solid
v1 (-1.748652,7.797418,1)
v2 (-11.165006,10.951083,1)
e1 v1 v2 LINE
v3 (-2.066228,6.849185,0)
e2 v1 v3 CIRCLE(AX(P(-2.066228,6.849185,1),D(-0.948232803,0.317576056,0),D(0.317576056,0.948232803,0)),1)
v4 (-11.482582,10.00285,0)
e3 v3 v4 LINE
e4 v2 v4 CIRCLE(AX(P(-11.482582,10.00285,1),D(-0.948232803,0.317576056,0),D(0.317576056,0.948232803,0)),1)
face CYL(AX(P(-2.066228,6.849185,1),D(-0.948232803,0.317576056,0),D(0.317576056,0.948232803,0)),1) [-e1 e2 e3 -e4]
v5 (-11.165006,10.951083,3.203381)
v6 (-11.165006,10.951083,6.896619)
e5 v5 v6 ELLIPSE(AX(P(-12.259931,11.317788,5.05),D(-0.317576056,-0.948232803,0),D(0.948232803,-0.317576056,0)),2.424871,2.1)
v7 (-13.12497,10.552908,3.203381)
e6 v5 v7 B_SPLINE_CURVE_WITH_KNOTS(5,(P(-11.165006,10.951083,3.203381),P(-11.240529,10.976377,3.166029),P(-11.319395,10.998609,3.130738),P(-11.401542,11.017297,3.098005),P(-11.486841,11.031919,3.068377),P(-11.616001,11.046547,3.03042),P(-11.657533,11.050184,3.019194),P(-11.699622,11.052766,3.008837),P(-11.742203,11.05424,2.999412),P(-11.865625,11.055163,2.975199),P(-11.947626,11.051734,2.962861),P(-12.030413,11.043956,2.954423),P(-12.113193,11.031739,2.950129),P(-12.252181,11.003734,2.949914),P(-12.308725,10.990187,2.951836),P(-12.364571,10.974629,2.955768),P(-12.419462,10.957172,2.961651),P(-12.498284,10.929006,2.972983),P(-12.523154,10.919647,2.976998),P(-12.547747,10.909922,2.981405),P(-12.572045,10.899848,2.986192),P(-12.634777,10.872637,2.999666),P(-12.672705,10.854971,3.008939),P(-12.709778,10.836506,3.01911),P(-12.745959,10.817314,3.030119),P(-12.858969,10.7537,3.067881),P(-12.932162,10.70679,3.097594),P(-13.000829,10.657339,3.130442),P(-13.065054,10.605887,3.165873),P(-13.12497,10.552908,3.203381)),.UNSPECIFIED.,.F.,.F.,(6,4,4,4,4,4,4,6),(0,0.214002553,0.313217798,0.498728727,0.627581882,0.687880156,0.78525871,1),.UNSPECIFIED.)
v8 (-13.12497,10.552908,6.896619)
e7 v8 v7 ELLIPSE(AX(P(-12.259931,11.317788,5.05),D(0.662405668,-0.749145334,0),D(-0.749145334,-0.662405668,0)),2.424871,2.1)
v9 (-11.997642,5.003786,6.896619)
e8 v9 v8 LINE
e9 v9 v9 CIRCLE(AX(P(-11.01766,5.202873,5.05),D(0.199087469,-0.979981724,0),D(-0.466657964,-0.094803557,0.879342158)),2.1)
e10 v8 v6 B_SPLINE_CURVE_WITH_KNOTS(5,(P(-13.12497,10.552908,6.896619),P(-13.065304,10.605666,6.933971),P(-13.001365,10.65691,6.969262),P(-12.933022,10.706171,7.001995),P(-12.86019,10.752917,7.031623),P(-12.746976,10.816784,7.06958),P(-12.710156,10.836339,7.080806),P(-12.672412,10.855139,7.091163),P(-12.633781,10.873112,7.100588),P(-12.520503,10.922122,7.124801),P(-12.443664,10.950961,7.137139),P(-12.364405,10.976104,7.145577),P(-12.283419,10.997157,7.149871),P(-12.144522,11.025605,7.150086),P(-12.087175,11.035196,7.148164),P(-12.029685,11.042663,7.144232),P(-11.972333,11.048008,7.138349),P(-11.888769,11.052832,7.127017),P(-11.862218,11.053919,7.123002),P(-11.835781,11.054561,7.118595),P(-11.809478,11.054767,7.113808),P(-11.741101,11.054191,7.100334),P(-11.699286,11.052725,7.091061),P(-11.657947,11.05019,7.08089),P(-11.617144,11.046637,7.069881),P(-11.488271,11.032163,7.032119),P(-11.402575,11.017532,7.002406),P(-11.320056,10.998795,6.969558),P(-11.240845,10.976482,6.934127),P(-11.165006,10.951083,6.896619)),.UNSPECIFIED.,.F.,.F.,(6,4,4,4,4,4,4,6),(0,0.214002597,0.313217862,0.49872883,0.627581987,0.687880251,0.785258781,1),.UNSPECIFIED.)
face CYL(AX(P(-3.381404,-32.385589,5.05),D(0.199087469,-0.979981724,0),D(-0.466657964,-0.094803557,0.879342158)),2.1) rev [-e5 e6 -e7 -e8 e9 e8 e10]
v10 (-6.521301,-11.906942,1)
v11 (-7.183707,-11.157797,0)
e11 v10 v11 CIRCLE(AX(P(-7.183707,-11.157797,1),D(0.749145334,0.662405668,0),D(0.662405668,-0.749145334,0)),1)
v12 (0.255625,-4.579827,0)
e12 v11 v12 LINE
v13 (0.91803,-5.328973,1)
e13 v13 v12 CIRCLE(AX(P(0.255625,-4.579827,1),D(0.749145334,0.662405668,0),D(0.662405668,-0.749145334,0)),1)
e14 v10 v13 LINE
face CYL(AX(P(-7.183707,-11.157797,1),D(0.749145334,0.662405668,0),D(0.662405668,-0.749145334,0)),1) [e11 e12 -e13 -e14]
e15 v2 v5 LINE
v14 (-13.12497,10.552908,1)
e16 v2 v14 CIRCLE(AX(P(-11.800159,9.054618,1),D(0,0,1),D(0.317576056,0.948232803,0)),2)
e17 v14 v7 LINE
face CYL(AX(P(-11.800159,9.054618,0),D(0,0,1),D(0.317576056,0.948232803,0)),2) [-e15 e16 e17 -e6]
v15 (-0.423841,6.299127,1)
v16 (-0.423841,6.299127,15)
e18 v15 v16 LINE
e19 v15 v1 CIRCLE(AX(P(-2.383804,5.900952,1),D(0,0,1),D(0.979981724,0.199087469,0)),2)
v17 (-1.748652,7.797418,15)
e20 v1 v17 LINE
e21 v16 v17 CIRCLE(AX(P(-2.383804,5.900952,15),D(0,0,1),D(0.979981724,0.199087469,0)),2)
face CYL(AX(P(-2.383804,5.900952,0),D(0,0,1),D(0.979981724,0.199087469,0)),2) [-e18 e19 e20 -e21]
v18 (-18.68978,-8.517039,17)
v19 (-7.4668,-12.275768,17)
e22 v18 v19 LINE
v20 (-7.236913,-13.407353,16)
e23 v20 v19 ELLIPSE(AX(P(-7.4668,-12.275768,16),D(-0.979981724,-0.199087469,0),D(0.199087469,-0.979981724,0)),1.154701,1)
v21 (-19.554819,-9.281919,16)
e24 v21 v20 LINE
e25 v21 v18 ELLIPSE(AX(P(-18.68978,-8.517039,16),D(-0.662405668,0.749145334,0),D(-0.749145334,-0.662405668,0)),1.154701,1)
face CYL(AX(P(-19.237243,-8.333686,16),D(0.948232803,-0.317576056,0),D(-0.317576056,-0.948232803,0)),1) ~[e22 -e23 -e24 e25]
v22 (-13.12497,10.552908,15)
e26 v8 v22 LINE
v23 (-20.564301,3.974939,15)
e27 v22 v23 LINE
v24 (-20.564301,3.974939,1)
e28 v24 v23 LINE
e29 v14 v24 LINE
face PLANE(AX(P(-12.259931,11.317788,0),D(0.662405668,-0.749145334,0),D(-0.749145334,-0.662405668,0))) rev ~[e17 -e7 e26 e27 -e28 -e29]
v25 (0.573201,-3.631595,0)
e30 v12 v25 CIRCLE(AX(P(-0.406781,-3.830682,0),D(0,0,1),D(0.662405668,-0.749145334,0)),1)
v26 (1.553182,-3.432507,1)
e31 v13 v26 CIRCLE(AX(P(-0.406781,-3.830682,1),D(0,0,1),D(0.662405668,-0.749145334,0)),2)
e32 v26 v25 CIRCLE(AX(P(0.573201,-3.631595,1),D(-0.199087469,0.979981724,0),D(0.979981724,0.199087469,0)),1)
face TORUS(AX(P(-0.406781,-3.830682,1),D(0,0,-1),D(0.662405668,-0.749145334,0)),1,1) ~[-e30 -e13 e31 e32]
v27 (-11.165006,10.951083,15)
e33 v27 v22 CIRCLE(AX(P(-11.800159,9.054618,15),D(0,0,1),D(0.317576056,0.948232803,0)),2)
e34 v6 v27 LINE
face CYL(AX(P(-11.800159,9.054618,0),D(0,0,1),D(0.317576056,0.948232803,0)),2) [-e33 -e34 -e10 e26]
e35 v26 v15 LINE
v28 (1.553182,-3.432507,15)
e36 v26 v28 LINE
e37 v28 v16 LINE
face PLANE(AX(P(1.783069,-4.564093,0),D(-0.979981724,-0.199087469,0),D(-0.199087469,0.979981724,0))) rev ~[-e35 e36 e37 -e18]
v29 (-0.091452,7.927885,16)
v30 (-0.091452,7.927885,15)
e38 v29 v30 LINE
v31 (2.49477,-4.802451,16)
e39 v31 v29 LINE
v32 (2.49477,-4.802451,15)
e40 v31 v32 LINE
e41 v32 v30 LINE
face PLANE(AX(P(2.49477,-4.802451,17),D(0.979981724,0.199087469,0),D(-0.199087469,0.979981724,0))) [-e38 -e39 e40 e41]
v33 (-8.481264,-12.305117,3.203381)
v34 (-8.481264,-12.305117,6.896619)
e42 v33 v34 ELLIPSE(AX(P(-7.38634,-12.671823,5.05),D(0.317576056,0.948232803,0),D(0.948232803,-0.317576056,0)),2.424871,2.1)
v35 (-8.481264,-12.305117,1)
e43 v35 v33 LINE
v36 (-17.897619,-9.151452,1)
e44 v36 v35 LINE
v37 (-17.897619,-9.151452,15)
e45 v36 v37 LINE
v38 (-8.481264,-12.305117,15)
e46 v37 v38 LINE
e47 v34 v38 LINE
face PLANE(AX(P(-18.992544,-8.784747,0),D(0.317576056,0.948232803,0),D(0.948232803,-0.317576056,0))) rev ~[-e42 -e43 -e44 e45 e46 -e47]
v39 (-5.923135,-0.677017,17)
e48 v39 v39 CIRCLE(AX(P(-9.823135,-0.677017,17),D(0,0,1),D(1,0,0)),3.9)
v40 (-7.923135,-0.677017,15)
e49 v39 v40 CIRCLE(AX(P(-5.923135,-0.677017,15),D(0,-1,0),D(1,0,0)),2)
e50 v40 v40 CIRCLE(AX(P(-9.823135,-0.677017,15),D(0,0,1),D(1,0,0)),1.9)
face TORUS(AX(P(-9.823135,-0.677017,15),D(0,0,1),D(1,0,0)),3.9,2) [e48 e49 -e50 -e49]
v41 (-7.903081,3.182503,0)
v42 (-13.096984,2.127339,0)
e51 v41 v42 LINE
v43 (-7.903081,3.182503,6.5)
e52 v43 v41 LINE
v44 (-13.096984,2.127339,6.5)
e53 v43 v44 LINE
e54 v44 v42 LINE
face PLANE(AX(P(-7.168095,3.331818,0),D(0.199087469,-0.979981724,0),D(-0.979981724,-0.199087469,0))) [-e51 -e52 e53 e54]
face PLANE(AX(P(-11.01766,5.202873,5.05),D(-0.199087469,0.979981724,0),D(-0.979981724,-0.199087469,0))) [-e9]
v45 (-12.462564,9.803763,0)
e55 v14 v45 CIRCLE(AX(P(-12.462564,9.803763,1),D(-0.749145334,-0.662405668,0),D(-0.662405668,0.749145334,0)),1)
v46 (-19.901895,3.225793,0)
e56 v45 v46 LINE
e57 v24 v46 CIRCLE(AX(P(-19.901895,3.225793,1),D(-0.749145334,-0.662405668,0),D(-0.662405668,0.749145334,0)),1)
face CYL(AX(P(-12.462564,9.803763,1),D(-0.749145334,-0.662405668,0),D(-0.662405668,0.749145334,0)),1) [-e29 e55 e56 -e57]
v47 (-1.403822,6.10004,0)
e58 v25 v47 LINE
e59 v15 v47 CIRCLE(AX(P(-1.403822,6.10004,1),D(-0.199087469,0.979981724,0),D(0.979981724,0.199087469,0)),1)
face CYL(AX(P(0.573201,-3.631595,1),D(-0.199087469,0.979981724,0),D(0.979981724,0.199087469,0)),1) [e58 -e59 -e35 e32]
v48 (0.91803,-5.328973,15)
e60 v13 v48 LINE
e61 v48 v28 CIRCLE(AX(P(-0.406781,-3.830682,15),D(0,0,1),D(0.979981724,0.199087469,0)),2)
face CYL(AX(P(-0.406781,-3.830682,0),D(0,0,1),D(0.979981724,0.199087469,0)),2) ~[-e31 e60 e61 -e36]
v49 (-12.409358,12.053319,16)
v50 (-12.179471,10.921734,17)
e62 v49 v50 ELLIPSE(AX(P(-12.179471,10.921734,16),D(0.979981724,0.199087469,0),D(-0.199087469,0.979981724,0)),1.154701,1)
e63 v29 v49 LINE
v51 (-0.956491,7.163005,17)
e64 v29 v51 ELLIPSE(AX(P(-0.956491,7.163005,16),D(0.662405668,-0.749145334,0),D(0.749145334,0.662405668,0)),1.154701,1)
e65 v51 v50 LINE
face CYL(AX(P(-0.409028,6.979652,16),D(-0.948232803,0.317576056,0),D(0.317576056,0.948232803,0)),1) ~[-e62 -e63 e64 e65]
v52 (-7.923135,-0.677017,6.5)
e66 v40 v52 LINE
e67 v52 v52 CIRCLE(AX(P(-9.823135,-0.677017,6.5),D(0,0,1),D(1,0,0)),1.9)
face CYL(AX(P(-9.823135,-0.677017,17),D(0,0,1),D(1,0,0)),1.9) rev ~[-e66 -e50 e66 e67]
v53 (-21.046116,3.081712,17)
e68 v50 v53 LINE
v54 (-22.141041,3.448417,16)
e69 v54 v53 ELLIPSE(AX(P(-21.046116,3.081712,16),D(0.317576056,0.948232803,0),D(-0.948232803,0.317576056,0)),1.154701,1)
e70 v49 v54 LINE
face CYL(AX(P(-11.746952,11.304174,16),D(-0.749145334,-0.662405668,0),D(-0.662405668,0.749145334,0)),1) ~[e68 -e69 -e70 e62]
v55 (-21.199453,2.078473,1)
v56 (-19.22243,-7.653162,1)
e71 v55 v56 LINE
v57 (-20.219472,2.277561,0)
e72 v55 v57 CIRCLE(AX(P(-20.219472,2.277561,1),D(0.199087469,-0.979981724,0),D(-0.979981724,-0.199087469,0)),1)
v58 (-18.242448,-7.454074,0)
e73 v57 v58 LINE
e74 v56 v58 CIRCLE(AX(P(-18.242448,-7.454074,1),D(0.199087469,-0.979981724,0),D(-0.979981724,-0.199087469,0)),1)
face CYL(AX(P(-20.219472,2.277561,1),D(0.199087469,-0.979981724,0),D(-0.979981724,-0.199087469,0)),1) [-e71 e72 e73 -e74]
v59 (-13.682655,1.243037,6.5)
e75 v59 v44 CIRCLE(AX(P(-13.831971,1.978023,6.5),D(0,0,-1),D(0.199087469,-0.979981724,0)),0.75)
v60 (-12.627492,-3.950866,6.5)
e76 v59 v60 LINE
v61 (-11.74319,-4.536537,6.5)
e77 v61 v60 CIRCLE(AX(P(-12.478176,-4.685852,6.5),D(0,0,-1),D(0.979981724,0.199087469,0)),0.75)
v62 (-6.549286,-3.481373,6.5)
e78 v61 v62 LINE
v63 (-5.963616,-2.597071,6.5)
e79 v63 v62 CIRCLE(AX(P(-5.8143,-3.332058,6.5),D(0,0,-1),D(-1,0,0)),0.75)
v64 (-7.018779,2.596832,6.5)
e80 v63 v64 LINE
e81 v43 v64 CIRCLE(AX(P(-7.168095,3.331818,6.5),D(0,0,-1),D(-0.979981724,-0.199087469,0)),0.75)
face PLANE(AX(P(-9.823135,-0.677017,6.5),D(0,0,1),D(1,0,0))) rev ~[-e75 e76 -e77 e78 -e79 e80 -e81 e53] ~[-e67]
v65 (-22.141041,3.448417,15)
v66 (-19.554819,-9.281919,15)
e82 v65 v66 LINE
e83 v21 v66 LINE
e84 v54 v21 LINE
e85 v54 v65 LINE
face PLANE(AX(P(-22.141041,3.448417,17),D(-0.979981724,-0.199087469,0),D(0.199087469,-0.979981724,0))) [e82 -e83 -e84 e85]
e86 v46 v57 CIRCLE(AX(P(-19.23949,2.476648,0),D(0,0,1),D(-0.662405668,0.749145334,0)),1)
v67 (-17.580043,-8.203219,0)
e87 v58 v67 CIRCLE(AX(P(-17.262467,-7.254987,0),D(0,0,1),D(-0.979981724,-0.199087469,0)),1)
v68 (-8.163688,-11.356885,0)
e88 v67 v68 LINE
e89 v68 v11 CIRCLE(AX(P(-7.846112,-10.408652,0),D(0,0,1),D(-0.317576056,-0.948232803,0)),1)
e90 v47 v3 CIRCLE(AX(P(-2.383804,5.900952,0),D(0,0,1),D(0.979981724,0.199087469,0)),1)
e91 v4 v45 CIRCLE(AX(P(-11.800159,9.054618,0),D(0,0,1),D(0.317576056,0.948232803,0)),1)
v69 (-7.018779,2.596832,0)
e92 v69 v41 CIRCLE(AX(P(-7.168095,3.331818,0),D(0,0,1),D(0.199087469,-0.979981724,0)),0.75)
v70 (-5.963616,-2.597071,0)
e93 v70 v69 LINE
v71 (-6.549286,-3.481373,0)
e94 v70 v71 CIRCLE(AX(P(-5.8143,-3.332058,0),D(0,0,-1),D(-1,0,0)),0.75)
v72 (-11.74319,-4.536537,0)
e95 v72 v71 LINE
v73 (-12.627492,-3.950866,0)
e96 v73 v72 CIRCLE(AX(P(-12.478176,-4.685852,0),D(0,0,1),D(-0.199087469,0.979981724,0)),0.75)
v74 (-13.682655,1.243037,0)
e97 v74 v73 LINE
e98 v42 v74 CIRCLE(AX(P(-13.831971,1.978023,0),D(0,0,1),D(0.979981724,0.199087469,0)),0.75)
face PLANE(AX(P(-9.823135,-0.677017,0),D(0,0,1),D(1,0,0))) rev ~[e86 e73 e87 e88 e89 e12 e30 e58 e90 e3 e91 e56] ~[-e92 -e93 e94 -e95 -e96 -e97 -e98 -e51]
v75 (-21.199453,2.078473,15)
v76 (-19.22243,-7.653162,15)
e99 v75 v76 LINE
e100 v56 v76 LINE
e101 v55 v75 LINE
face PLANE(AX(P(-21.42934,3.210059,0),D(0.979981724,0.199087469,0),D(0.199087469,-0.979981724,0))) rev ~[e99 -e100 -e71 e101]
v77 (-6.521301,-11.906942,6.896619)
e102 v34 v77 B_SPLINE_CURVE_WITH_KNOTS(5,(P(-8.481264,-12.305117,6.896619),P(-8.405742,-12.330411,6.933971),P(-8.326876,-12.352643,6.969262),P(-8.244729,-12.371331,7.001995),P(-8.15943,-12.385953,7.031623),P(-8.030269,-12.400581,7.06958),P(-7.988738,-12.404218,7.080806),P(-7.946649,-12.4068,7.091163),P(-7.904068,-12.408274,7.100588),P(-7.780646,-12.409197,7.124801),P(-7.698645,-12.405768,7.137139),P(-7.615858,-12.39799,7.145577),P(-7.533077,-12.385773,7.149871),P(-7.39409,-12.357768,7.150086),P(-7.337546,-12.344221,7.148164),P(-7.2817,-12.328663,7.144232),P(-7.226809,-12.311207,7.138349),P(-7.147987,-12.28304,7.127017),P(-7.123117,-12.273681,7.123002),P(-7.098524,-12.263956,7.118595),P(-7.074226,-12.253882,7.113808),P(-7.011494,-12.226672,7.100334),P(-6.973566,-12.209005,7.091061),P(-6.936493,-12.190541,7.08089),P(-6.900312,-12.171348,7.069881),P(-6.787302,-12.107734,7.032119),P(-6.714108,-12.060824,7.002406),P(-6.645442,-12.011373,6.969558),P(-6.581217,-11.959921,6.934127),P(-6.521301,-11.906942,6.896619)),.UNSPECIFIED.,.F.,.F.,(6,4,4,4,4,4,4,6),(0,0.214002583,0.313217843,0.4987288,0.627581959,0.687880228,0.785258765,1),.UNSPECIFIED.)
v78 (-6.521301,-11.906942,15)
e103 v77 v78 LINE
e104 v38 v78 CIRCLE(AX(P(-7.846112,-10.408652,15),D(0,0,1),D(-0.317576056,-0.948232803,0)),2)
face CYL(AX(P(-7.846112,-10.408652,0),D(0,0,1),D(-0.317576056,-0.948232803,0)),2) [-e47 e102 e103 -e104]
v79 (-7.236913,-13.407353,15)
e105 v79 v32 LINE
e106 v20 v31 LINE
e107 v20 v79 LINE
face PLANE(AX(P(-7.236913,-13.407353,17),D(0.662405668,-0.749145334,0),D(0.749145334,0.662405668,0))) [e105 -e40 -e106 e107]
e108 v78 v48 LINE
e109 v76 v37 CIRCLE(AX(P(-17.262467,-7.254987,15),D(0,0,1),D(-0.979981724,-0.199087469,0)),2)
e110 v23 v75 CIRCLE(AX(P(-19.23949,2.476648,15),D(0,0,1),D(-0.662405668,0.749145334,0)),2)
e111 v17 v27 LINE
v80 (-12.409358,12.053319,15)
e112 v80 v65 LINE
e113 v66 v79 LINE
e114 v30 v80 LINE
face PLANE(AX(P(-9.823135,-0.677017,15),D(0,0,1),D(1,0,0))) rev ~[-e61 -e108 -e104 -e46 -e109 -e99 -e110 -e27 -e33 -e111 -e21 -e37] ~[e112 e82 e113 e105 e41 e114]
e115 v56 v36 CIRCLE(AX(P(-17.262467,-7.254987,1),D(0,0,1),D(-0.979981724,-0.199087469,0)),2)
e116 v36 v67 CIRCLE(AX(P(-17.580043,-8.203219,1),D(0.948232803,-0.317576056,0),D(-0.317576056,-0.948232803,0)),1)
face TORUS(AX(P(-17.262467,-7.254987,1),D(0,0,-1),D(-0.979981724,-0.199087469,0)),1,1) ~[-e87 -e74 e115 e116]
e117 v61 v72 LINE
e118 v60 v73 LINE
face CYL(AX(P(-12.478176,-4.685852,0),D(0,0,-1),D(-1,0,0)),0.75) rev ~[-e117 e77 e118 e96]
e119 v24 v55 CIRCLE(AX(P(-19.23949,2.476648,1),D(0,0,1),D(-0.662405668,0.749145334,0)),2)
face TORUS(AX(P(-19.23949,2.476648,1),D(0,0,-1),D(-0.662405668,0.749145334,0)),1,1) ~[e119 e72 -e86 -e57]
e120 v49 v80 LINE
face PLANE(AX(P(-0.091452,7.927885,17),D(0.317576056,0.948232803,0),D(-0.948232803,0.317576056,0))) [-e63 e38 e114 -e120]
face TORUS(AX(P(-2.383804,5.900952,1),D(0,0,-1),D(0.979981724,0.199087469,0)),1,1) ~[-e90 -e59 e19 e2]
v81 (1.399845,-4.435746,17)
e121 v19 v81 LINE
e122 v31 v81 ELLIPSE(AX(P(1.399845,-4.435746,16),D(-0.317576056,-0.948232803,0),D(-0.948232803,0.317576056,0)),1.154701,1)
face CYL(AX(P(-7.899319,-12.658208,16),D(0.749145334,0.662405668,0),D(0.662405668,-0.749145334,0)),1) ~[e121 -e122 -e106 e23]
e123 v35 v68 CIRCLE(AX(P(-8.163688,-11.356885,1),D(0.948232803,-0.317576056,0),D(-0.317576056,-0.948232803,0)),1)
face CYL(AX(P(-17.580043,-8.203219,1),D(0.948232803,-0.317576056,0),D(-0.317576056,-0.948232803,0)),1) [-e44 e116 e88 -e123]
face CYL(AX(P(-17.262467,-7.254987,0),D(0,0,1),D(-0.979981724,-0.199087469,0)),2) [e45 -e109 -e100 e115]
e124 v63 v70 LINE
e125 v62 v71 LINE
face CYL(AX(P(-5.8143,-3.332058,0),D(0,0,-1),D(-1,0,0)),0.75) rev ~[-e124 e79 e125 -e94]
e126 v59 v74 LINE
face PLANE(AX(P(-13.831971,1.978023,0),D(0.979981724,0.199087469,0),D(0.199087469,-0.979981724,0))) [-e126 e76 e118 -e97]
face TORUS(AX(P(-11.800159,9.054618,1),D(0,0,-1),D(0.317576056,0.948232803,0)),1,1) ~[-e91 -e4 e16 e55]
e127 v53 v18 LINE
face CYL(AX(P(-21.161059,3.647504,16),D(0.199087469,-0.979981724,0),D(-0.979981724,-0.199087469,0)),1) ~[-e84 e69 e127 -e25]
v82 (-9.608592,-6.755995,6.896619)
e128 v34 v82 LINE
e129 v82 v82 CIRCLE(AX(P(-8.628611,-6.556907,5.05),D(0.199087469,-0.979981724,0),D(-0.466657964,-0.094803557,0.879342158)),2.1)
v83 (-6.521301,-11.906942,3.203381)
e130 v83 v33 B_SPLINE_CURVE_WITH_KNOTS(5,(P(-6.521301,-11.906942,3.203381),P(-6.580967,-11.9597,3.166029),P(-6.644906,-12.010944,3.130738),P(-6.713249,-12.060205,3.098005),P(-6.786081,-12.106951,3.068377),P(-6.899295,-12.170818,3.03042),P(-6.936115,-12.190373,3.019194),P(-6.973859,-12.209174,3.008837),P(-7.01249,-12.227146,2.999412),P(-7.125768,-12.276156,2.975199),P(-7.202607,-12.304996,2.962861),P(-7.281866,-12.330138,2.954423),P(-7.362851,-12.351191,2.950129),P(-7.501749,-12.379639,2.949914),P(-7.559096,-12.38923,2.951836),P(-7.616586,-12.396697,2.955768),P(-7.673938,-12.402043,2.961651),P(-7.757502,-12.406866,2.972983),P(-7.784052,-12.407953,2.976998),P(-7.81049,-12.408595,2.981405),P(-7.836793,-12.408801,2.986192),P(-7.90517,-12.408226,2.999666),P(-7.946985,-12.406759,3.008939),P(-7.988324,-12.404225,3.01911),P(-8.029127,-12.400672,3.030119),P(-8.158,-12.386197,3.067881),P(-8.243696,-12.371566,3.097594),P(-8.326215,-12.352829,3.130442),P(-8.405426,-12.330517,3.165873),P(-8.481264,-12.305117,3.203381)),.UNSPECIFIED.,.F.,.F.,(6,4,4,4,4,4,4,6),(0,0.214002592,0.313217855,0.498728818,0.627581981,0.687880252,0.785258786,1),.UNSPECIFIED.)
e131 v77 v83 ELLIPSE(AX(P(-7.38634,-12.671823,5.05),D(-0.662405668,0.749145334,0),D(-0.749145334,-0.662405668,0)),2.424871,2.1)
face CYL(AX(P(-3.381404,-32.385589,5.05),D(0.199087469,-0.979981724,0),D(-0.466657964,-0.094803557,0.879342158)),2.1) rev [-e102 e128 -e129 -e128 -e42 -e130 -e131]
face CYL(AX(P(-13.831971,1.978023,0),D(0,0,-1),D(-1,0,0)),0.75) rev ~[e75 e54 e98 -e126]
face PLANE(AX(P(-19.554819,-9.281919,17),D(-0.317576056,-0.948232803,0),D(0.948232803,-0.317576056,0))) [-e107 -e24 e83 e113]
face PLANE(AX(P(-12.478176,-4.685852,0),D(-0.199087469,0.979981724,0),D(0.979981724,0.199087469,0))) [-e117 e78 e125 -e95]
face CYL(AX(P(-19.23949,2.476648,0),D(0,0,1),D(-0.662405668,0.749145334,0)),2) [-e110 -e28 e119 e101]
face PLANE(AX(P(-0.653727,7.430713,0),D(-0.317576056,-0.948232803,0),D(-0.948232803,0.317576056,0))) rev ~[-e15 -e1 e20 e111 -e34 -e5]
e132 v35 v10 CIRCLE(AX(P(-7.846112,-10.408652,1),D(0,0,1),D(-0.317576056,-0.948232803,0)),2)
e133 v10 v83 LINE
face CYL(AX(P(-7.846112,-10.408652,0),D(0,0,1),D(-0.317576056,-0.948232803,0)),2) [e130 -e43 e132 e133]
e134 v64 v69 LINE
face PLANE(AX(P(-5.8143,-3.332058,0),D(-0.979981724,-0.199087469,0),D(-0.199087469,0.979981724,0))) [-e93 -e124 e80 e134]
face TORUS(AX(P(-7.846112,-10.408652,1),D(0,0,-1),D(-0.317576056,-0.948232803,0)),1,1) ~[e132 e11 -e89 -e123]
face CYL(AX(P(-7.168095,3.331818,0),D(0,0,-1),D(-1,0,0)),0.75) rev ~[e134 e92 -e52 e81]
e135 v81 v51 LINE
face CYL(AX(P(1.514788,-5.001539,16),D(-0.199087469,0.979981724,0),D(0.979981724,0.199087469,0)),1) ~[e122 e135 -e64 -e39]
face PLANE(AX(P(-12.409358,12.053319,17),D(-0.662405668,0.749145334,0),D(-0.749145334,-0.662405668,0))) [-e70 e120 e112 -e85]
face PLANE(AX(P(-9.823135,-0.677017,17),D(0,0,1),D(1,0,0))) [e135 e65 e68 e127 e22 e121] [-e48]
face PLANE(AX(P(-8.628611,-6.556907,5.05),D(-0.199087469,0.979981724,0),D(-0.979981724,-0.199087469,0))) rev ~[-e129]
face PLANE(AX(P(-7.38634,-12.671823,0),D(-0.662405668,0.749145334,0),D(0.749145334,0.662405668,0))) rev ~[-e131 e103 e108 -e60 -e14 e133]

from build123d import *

# Parameters (mm, degrees)
DODANIE_WYCI_GNI_CIE1_DEPTH      = 17
ZAOKR_GLENIE1_R                  = 2
DODANIE_WYCI_GNI_CIE2_DEPTH      = 2
ZAOKR_GLENIE2_R                  = 1
ZAOKR_GLENIE3_R                  = 1
WYTNIJ_WYCI_GNI_CIE1_DEPTH       = 32.35628887
WYTNIJ_WYCI_GNI_CIE1_DEPTH_BACK  = 32.35628887
SZKIC4_R                         = 2.1
DODANIE_WYCI_GNI_CIE3_DEPTH      = 6
DODANIE_WYCI_GNI_CIE3_DEPTH_BACK = 6
SZKIC9_R                         = 2.1
SZKIC8_R                         = 1.9
WYTNIJ_WYCI_GNI_CIE3_DEPTH       = 10.5
ZAOKR_GLENIE5_R                  = 2
WYTNIJ_WYCI_GNI_CIE4_DEPTH       = 6.5
SZKIC12_R                        = 0.75
WYTNIJ_WYCI_GNI_CIE5_DEPTH       = 6.5


with BuildPart() as part:
    # Szkic1 → Dodanie-wyciągnięcie1 (new body)
    with BuildSketch(Plane.XY):
        Polygon((1.783068787, -4.564092652), (-0.653727134, 7.430712848), (-12.25993137, 11.317788426), (-21.429339686, 3.210058505), (-18.992543765, -8.784746995), (-7.386339528, -12.671822573), align=None)
    extrude(amount=DODANIE_WYCI_GNI_CIE1_DEPTH)

    # Zaokrąglenie1
    zaokr_glenie1_edges = [part.edges().sort_by_distance(p)[0] for p in [
        (-7.386339528, -12.671822573, 8.5),
        (-18.992543765, -8.784746995, 8.5),
        (-21.429339686, 3.210058505, 8.5),
        (-12.25993137, 11.317788426, 8.5),
        (-0.653727134, 7.430712848, 8.5),
        (1.783068787, -4.564092652, 8.5),
    ]]
    fillet(zaokr_glenie1_edges, radius=ZAOKR_GLENIE1_R)

    # Szkic3 → Dodanie-wyciągnięcie2 (add)
    with BuildSketch(Plane.XY.offset(17)):
        Polygon((-0.091452095, 7.927884965), (-12.409357535, 12.053318952), (-22.141040889, 3.448416913), (-19.554818803, -9.281919113), (-7.236913363, -13.407353099), (2.494769991, -4.80245106), align=None)
    extrude(amount=-DODANIE_WYCI_GNI_CIE2_DEPTH)

    # Zaokrąglenie2
    zaokr_glenie2_edges = [part.edges().sort_by_distance(p)[0] for p in [
        (-6.456829252, 9.374250637, 0),
        (-2.80163537, -8.617957613, 0),
        (-13.189441647, -10.728284784, 0),
        (-20.210941725, -2.787344245, 0),
        (-16.844635528, 7.263923465, 0),
        (0.564670827, 1.433310098, 0),
        (-12.198333493, 11.014581025, 0),
        (-21.135955436, 3.111800131, 0),
        (-18.760757392, -8.579797968, 0),
        (-7.447937406, -12.368615173, 0),
        (1.489684537, -4.465834278, 0),
        (-0.885513507, 7.225763821, 0),
    ]]
    fillet(zaokr_glenie2_edges, radius=ZAOKR_GLENIE2_R)

    # Zaokrąglenie3
    zaokr_glenie3_edges = [part.edges().sort_by_distance(p)[0] for p in [
        (1.201658948, 1.562716953, 17),
        (-6.250404815, 9.990601959, 17),
        (-17.275199212, 7.750867932, 17),
        (-20.847929846, -2.9167511, 17),
        (-13.395866083, -11.344636106, 17),
        (-2.371071686, -9.10490208, 17),
    ]]
    fillet(zaokr_glenie3_edges, radius=ZAOKR_GLENIE3_R)

    # Szkic4 → Wytnij-wyciągnięcie1 (cut, two sides: drawn at the far end of the back side and taken through both)
    with BuildSketch(Plane(origin=(-0.257260592, 1.266331223, 0), x_dir=(0.9799817241599056, 0.19908746899937949, 0), z_dir=(-0.19908746899937946, 0.9799817241599055, 0)).offset(-WYTNIJ_WYCI_GNI_CIE1_DEPTH_BACK)):
        with Locations(Location((-9.76127883, -5.05, 0), (0, 0, 241.563109851))):
            Circle(SZKIC4_R)
    extrude(amount=WYTNIJ_WYCI_GNI_CIE1_DEPTH + WYTNIJ_WYCI_GNI_CIE1_DEPTH_BACK, mode=Mode.SUBTRACT)

    # Szkic9 → Dodanie-wyciągnięcie3 (add, two sides: drawn at the far end of the back side and taken through both)
    with BuildSketch(Plane(origin=(-0.257260592, 1.266331223, 0), x_dir=(0.9799817241599056, 0.19908746899937949, 0), z_dir=(-0.19908746899937946, 0.9799817241599055, 0)).offset(-DODANIE_WYCI_GNI_CIE3_DEPTH_BACK)):
        with Locations(Location((-9.76127883, -5.05, 0), (0, 0, 180))):
            Circle(SZKIC9_R)
    extrude(amount=DODANIE_WYCI_GNI_CIE3_DEPTH + DODANIE_WYCI_GNI_CIE3_DEPTH_BACK)

    # Szkic8 → Wytnij-wyciągnięcie3 (cut)
    with BuildSketch(Plane.XY.offset(17)):
        with Locations((-9.823135449, -0.677017074)):
            Circle(SZKIC8_R)
    extrude(amount=-WYTNIJ_WYCI_GNI_CIE3_DEPTH, mode=Mode.SUBTRACT)

    # Zaokrąglenie5
    zaokr_glenie5_edges = [part.edges().sort_by_distance(p)[0] for p in [
        (-11.723135449, -0.677017074, 17),
    ]]
    fillet(zaokr_glenie5_edges, radius=ZAOKR_GLENIE5_R)

    # Szkic11 → Wytnij-wyciągnięcie4 (cut)
    with BuildSketch(Plane(origin=(0, 0, 0), x_dir=(-1, 0, 0), z_dir=(0, 0, -1))):
        Polygon((13.831970706, 1.978023394), (12.478175917, -4.68585233), (5.814300193, -3.332057541), (7.168094982, 3.331818183), align=None)
    extrude(amount=-WYTNIJ_WYCI_GNI_CIE4_DEPTH, mode=Mode.SUBTRACT)

    # Szkic12 → Wytnij-wyciągnięcie5 (cut)
    with BuildSketch(Plane(origin=(0, 0, 0), x_dir=(-1, 0, 0), z_dir=(0, 0, -1))):
        with Locations((13.831970706, 1.978023394)):
            Circle(SZKIC12_R)
        with Locations((12.478175917, -4.68585233)):
            Circle(SZKIC12_R)
        with Locations((5.814300193, -3.332057541)):
            Circle(SZKIC12_R)
        with Locations((7.168094982, 3.331818183)):
            Circle(SZKIC12_R)
    extrude(amount=-WYTNIJ_WYCI_GNI_CIE5_DEPTH, mode=Mode.SUBTRACT)


solid = part.part
